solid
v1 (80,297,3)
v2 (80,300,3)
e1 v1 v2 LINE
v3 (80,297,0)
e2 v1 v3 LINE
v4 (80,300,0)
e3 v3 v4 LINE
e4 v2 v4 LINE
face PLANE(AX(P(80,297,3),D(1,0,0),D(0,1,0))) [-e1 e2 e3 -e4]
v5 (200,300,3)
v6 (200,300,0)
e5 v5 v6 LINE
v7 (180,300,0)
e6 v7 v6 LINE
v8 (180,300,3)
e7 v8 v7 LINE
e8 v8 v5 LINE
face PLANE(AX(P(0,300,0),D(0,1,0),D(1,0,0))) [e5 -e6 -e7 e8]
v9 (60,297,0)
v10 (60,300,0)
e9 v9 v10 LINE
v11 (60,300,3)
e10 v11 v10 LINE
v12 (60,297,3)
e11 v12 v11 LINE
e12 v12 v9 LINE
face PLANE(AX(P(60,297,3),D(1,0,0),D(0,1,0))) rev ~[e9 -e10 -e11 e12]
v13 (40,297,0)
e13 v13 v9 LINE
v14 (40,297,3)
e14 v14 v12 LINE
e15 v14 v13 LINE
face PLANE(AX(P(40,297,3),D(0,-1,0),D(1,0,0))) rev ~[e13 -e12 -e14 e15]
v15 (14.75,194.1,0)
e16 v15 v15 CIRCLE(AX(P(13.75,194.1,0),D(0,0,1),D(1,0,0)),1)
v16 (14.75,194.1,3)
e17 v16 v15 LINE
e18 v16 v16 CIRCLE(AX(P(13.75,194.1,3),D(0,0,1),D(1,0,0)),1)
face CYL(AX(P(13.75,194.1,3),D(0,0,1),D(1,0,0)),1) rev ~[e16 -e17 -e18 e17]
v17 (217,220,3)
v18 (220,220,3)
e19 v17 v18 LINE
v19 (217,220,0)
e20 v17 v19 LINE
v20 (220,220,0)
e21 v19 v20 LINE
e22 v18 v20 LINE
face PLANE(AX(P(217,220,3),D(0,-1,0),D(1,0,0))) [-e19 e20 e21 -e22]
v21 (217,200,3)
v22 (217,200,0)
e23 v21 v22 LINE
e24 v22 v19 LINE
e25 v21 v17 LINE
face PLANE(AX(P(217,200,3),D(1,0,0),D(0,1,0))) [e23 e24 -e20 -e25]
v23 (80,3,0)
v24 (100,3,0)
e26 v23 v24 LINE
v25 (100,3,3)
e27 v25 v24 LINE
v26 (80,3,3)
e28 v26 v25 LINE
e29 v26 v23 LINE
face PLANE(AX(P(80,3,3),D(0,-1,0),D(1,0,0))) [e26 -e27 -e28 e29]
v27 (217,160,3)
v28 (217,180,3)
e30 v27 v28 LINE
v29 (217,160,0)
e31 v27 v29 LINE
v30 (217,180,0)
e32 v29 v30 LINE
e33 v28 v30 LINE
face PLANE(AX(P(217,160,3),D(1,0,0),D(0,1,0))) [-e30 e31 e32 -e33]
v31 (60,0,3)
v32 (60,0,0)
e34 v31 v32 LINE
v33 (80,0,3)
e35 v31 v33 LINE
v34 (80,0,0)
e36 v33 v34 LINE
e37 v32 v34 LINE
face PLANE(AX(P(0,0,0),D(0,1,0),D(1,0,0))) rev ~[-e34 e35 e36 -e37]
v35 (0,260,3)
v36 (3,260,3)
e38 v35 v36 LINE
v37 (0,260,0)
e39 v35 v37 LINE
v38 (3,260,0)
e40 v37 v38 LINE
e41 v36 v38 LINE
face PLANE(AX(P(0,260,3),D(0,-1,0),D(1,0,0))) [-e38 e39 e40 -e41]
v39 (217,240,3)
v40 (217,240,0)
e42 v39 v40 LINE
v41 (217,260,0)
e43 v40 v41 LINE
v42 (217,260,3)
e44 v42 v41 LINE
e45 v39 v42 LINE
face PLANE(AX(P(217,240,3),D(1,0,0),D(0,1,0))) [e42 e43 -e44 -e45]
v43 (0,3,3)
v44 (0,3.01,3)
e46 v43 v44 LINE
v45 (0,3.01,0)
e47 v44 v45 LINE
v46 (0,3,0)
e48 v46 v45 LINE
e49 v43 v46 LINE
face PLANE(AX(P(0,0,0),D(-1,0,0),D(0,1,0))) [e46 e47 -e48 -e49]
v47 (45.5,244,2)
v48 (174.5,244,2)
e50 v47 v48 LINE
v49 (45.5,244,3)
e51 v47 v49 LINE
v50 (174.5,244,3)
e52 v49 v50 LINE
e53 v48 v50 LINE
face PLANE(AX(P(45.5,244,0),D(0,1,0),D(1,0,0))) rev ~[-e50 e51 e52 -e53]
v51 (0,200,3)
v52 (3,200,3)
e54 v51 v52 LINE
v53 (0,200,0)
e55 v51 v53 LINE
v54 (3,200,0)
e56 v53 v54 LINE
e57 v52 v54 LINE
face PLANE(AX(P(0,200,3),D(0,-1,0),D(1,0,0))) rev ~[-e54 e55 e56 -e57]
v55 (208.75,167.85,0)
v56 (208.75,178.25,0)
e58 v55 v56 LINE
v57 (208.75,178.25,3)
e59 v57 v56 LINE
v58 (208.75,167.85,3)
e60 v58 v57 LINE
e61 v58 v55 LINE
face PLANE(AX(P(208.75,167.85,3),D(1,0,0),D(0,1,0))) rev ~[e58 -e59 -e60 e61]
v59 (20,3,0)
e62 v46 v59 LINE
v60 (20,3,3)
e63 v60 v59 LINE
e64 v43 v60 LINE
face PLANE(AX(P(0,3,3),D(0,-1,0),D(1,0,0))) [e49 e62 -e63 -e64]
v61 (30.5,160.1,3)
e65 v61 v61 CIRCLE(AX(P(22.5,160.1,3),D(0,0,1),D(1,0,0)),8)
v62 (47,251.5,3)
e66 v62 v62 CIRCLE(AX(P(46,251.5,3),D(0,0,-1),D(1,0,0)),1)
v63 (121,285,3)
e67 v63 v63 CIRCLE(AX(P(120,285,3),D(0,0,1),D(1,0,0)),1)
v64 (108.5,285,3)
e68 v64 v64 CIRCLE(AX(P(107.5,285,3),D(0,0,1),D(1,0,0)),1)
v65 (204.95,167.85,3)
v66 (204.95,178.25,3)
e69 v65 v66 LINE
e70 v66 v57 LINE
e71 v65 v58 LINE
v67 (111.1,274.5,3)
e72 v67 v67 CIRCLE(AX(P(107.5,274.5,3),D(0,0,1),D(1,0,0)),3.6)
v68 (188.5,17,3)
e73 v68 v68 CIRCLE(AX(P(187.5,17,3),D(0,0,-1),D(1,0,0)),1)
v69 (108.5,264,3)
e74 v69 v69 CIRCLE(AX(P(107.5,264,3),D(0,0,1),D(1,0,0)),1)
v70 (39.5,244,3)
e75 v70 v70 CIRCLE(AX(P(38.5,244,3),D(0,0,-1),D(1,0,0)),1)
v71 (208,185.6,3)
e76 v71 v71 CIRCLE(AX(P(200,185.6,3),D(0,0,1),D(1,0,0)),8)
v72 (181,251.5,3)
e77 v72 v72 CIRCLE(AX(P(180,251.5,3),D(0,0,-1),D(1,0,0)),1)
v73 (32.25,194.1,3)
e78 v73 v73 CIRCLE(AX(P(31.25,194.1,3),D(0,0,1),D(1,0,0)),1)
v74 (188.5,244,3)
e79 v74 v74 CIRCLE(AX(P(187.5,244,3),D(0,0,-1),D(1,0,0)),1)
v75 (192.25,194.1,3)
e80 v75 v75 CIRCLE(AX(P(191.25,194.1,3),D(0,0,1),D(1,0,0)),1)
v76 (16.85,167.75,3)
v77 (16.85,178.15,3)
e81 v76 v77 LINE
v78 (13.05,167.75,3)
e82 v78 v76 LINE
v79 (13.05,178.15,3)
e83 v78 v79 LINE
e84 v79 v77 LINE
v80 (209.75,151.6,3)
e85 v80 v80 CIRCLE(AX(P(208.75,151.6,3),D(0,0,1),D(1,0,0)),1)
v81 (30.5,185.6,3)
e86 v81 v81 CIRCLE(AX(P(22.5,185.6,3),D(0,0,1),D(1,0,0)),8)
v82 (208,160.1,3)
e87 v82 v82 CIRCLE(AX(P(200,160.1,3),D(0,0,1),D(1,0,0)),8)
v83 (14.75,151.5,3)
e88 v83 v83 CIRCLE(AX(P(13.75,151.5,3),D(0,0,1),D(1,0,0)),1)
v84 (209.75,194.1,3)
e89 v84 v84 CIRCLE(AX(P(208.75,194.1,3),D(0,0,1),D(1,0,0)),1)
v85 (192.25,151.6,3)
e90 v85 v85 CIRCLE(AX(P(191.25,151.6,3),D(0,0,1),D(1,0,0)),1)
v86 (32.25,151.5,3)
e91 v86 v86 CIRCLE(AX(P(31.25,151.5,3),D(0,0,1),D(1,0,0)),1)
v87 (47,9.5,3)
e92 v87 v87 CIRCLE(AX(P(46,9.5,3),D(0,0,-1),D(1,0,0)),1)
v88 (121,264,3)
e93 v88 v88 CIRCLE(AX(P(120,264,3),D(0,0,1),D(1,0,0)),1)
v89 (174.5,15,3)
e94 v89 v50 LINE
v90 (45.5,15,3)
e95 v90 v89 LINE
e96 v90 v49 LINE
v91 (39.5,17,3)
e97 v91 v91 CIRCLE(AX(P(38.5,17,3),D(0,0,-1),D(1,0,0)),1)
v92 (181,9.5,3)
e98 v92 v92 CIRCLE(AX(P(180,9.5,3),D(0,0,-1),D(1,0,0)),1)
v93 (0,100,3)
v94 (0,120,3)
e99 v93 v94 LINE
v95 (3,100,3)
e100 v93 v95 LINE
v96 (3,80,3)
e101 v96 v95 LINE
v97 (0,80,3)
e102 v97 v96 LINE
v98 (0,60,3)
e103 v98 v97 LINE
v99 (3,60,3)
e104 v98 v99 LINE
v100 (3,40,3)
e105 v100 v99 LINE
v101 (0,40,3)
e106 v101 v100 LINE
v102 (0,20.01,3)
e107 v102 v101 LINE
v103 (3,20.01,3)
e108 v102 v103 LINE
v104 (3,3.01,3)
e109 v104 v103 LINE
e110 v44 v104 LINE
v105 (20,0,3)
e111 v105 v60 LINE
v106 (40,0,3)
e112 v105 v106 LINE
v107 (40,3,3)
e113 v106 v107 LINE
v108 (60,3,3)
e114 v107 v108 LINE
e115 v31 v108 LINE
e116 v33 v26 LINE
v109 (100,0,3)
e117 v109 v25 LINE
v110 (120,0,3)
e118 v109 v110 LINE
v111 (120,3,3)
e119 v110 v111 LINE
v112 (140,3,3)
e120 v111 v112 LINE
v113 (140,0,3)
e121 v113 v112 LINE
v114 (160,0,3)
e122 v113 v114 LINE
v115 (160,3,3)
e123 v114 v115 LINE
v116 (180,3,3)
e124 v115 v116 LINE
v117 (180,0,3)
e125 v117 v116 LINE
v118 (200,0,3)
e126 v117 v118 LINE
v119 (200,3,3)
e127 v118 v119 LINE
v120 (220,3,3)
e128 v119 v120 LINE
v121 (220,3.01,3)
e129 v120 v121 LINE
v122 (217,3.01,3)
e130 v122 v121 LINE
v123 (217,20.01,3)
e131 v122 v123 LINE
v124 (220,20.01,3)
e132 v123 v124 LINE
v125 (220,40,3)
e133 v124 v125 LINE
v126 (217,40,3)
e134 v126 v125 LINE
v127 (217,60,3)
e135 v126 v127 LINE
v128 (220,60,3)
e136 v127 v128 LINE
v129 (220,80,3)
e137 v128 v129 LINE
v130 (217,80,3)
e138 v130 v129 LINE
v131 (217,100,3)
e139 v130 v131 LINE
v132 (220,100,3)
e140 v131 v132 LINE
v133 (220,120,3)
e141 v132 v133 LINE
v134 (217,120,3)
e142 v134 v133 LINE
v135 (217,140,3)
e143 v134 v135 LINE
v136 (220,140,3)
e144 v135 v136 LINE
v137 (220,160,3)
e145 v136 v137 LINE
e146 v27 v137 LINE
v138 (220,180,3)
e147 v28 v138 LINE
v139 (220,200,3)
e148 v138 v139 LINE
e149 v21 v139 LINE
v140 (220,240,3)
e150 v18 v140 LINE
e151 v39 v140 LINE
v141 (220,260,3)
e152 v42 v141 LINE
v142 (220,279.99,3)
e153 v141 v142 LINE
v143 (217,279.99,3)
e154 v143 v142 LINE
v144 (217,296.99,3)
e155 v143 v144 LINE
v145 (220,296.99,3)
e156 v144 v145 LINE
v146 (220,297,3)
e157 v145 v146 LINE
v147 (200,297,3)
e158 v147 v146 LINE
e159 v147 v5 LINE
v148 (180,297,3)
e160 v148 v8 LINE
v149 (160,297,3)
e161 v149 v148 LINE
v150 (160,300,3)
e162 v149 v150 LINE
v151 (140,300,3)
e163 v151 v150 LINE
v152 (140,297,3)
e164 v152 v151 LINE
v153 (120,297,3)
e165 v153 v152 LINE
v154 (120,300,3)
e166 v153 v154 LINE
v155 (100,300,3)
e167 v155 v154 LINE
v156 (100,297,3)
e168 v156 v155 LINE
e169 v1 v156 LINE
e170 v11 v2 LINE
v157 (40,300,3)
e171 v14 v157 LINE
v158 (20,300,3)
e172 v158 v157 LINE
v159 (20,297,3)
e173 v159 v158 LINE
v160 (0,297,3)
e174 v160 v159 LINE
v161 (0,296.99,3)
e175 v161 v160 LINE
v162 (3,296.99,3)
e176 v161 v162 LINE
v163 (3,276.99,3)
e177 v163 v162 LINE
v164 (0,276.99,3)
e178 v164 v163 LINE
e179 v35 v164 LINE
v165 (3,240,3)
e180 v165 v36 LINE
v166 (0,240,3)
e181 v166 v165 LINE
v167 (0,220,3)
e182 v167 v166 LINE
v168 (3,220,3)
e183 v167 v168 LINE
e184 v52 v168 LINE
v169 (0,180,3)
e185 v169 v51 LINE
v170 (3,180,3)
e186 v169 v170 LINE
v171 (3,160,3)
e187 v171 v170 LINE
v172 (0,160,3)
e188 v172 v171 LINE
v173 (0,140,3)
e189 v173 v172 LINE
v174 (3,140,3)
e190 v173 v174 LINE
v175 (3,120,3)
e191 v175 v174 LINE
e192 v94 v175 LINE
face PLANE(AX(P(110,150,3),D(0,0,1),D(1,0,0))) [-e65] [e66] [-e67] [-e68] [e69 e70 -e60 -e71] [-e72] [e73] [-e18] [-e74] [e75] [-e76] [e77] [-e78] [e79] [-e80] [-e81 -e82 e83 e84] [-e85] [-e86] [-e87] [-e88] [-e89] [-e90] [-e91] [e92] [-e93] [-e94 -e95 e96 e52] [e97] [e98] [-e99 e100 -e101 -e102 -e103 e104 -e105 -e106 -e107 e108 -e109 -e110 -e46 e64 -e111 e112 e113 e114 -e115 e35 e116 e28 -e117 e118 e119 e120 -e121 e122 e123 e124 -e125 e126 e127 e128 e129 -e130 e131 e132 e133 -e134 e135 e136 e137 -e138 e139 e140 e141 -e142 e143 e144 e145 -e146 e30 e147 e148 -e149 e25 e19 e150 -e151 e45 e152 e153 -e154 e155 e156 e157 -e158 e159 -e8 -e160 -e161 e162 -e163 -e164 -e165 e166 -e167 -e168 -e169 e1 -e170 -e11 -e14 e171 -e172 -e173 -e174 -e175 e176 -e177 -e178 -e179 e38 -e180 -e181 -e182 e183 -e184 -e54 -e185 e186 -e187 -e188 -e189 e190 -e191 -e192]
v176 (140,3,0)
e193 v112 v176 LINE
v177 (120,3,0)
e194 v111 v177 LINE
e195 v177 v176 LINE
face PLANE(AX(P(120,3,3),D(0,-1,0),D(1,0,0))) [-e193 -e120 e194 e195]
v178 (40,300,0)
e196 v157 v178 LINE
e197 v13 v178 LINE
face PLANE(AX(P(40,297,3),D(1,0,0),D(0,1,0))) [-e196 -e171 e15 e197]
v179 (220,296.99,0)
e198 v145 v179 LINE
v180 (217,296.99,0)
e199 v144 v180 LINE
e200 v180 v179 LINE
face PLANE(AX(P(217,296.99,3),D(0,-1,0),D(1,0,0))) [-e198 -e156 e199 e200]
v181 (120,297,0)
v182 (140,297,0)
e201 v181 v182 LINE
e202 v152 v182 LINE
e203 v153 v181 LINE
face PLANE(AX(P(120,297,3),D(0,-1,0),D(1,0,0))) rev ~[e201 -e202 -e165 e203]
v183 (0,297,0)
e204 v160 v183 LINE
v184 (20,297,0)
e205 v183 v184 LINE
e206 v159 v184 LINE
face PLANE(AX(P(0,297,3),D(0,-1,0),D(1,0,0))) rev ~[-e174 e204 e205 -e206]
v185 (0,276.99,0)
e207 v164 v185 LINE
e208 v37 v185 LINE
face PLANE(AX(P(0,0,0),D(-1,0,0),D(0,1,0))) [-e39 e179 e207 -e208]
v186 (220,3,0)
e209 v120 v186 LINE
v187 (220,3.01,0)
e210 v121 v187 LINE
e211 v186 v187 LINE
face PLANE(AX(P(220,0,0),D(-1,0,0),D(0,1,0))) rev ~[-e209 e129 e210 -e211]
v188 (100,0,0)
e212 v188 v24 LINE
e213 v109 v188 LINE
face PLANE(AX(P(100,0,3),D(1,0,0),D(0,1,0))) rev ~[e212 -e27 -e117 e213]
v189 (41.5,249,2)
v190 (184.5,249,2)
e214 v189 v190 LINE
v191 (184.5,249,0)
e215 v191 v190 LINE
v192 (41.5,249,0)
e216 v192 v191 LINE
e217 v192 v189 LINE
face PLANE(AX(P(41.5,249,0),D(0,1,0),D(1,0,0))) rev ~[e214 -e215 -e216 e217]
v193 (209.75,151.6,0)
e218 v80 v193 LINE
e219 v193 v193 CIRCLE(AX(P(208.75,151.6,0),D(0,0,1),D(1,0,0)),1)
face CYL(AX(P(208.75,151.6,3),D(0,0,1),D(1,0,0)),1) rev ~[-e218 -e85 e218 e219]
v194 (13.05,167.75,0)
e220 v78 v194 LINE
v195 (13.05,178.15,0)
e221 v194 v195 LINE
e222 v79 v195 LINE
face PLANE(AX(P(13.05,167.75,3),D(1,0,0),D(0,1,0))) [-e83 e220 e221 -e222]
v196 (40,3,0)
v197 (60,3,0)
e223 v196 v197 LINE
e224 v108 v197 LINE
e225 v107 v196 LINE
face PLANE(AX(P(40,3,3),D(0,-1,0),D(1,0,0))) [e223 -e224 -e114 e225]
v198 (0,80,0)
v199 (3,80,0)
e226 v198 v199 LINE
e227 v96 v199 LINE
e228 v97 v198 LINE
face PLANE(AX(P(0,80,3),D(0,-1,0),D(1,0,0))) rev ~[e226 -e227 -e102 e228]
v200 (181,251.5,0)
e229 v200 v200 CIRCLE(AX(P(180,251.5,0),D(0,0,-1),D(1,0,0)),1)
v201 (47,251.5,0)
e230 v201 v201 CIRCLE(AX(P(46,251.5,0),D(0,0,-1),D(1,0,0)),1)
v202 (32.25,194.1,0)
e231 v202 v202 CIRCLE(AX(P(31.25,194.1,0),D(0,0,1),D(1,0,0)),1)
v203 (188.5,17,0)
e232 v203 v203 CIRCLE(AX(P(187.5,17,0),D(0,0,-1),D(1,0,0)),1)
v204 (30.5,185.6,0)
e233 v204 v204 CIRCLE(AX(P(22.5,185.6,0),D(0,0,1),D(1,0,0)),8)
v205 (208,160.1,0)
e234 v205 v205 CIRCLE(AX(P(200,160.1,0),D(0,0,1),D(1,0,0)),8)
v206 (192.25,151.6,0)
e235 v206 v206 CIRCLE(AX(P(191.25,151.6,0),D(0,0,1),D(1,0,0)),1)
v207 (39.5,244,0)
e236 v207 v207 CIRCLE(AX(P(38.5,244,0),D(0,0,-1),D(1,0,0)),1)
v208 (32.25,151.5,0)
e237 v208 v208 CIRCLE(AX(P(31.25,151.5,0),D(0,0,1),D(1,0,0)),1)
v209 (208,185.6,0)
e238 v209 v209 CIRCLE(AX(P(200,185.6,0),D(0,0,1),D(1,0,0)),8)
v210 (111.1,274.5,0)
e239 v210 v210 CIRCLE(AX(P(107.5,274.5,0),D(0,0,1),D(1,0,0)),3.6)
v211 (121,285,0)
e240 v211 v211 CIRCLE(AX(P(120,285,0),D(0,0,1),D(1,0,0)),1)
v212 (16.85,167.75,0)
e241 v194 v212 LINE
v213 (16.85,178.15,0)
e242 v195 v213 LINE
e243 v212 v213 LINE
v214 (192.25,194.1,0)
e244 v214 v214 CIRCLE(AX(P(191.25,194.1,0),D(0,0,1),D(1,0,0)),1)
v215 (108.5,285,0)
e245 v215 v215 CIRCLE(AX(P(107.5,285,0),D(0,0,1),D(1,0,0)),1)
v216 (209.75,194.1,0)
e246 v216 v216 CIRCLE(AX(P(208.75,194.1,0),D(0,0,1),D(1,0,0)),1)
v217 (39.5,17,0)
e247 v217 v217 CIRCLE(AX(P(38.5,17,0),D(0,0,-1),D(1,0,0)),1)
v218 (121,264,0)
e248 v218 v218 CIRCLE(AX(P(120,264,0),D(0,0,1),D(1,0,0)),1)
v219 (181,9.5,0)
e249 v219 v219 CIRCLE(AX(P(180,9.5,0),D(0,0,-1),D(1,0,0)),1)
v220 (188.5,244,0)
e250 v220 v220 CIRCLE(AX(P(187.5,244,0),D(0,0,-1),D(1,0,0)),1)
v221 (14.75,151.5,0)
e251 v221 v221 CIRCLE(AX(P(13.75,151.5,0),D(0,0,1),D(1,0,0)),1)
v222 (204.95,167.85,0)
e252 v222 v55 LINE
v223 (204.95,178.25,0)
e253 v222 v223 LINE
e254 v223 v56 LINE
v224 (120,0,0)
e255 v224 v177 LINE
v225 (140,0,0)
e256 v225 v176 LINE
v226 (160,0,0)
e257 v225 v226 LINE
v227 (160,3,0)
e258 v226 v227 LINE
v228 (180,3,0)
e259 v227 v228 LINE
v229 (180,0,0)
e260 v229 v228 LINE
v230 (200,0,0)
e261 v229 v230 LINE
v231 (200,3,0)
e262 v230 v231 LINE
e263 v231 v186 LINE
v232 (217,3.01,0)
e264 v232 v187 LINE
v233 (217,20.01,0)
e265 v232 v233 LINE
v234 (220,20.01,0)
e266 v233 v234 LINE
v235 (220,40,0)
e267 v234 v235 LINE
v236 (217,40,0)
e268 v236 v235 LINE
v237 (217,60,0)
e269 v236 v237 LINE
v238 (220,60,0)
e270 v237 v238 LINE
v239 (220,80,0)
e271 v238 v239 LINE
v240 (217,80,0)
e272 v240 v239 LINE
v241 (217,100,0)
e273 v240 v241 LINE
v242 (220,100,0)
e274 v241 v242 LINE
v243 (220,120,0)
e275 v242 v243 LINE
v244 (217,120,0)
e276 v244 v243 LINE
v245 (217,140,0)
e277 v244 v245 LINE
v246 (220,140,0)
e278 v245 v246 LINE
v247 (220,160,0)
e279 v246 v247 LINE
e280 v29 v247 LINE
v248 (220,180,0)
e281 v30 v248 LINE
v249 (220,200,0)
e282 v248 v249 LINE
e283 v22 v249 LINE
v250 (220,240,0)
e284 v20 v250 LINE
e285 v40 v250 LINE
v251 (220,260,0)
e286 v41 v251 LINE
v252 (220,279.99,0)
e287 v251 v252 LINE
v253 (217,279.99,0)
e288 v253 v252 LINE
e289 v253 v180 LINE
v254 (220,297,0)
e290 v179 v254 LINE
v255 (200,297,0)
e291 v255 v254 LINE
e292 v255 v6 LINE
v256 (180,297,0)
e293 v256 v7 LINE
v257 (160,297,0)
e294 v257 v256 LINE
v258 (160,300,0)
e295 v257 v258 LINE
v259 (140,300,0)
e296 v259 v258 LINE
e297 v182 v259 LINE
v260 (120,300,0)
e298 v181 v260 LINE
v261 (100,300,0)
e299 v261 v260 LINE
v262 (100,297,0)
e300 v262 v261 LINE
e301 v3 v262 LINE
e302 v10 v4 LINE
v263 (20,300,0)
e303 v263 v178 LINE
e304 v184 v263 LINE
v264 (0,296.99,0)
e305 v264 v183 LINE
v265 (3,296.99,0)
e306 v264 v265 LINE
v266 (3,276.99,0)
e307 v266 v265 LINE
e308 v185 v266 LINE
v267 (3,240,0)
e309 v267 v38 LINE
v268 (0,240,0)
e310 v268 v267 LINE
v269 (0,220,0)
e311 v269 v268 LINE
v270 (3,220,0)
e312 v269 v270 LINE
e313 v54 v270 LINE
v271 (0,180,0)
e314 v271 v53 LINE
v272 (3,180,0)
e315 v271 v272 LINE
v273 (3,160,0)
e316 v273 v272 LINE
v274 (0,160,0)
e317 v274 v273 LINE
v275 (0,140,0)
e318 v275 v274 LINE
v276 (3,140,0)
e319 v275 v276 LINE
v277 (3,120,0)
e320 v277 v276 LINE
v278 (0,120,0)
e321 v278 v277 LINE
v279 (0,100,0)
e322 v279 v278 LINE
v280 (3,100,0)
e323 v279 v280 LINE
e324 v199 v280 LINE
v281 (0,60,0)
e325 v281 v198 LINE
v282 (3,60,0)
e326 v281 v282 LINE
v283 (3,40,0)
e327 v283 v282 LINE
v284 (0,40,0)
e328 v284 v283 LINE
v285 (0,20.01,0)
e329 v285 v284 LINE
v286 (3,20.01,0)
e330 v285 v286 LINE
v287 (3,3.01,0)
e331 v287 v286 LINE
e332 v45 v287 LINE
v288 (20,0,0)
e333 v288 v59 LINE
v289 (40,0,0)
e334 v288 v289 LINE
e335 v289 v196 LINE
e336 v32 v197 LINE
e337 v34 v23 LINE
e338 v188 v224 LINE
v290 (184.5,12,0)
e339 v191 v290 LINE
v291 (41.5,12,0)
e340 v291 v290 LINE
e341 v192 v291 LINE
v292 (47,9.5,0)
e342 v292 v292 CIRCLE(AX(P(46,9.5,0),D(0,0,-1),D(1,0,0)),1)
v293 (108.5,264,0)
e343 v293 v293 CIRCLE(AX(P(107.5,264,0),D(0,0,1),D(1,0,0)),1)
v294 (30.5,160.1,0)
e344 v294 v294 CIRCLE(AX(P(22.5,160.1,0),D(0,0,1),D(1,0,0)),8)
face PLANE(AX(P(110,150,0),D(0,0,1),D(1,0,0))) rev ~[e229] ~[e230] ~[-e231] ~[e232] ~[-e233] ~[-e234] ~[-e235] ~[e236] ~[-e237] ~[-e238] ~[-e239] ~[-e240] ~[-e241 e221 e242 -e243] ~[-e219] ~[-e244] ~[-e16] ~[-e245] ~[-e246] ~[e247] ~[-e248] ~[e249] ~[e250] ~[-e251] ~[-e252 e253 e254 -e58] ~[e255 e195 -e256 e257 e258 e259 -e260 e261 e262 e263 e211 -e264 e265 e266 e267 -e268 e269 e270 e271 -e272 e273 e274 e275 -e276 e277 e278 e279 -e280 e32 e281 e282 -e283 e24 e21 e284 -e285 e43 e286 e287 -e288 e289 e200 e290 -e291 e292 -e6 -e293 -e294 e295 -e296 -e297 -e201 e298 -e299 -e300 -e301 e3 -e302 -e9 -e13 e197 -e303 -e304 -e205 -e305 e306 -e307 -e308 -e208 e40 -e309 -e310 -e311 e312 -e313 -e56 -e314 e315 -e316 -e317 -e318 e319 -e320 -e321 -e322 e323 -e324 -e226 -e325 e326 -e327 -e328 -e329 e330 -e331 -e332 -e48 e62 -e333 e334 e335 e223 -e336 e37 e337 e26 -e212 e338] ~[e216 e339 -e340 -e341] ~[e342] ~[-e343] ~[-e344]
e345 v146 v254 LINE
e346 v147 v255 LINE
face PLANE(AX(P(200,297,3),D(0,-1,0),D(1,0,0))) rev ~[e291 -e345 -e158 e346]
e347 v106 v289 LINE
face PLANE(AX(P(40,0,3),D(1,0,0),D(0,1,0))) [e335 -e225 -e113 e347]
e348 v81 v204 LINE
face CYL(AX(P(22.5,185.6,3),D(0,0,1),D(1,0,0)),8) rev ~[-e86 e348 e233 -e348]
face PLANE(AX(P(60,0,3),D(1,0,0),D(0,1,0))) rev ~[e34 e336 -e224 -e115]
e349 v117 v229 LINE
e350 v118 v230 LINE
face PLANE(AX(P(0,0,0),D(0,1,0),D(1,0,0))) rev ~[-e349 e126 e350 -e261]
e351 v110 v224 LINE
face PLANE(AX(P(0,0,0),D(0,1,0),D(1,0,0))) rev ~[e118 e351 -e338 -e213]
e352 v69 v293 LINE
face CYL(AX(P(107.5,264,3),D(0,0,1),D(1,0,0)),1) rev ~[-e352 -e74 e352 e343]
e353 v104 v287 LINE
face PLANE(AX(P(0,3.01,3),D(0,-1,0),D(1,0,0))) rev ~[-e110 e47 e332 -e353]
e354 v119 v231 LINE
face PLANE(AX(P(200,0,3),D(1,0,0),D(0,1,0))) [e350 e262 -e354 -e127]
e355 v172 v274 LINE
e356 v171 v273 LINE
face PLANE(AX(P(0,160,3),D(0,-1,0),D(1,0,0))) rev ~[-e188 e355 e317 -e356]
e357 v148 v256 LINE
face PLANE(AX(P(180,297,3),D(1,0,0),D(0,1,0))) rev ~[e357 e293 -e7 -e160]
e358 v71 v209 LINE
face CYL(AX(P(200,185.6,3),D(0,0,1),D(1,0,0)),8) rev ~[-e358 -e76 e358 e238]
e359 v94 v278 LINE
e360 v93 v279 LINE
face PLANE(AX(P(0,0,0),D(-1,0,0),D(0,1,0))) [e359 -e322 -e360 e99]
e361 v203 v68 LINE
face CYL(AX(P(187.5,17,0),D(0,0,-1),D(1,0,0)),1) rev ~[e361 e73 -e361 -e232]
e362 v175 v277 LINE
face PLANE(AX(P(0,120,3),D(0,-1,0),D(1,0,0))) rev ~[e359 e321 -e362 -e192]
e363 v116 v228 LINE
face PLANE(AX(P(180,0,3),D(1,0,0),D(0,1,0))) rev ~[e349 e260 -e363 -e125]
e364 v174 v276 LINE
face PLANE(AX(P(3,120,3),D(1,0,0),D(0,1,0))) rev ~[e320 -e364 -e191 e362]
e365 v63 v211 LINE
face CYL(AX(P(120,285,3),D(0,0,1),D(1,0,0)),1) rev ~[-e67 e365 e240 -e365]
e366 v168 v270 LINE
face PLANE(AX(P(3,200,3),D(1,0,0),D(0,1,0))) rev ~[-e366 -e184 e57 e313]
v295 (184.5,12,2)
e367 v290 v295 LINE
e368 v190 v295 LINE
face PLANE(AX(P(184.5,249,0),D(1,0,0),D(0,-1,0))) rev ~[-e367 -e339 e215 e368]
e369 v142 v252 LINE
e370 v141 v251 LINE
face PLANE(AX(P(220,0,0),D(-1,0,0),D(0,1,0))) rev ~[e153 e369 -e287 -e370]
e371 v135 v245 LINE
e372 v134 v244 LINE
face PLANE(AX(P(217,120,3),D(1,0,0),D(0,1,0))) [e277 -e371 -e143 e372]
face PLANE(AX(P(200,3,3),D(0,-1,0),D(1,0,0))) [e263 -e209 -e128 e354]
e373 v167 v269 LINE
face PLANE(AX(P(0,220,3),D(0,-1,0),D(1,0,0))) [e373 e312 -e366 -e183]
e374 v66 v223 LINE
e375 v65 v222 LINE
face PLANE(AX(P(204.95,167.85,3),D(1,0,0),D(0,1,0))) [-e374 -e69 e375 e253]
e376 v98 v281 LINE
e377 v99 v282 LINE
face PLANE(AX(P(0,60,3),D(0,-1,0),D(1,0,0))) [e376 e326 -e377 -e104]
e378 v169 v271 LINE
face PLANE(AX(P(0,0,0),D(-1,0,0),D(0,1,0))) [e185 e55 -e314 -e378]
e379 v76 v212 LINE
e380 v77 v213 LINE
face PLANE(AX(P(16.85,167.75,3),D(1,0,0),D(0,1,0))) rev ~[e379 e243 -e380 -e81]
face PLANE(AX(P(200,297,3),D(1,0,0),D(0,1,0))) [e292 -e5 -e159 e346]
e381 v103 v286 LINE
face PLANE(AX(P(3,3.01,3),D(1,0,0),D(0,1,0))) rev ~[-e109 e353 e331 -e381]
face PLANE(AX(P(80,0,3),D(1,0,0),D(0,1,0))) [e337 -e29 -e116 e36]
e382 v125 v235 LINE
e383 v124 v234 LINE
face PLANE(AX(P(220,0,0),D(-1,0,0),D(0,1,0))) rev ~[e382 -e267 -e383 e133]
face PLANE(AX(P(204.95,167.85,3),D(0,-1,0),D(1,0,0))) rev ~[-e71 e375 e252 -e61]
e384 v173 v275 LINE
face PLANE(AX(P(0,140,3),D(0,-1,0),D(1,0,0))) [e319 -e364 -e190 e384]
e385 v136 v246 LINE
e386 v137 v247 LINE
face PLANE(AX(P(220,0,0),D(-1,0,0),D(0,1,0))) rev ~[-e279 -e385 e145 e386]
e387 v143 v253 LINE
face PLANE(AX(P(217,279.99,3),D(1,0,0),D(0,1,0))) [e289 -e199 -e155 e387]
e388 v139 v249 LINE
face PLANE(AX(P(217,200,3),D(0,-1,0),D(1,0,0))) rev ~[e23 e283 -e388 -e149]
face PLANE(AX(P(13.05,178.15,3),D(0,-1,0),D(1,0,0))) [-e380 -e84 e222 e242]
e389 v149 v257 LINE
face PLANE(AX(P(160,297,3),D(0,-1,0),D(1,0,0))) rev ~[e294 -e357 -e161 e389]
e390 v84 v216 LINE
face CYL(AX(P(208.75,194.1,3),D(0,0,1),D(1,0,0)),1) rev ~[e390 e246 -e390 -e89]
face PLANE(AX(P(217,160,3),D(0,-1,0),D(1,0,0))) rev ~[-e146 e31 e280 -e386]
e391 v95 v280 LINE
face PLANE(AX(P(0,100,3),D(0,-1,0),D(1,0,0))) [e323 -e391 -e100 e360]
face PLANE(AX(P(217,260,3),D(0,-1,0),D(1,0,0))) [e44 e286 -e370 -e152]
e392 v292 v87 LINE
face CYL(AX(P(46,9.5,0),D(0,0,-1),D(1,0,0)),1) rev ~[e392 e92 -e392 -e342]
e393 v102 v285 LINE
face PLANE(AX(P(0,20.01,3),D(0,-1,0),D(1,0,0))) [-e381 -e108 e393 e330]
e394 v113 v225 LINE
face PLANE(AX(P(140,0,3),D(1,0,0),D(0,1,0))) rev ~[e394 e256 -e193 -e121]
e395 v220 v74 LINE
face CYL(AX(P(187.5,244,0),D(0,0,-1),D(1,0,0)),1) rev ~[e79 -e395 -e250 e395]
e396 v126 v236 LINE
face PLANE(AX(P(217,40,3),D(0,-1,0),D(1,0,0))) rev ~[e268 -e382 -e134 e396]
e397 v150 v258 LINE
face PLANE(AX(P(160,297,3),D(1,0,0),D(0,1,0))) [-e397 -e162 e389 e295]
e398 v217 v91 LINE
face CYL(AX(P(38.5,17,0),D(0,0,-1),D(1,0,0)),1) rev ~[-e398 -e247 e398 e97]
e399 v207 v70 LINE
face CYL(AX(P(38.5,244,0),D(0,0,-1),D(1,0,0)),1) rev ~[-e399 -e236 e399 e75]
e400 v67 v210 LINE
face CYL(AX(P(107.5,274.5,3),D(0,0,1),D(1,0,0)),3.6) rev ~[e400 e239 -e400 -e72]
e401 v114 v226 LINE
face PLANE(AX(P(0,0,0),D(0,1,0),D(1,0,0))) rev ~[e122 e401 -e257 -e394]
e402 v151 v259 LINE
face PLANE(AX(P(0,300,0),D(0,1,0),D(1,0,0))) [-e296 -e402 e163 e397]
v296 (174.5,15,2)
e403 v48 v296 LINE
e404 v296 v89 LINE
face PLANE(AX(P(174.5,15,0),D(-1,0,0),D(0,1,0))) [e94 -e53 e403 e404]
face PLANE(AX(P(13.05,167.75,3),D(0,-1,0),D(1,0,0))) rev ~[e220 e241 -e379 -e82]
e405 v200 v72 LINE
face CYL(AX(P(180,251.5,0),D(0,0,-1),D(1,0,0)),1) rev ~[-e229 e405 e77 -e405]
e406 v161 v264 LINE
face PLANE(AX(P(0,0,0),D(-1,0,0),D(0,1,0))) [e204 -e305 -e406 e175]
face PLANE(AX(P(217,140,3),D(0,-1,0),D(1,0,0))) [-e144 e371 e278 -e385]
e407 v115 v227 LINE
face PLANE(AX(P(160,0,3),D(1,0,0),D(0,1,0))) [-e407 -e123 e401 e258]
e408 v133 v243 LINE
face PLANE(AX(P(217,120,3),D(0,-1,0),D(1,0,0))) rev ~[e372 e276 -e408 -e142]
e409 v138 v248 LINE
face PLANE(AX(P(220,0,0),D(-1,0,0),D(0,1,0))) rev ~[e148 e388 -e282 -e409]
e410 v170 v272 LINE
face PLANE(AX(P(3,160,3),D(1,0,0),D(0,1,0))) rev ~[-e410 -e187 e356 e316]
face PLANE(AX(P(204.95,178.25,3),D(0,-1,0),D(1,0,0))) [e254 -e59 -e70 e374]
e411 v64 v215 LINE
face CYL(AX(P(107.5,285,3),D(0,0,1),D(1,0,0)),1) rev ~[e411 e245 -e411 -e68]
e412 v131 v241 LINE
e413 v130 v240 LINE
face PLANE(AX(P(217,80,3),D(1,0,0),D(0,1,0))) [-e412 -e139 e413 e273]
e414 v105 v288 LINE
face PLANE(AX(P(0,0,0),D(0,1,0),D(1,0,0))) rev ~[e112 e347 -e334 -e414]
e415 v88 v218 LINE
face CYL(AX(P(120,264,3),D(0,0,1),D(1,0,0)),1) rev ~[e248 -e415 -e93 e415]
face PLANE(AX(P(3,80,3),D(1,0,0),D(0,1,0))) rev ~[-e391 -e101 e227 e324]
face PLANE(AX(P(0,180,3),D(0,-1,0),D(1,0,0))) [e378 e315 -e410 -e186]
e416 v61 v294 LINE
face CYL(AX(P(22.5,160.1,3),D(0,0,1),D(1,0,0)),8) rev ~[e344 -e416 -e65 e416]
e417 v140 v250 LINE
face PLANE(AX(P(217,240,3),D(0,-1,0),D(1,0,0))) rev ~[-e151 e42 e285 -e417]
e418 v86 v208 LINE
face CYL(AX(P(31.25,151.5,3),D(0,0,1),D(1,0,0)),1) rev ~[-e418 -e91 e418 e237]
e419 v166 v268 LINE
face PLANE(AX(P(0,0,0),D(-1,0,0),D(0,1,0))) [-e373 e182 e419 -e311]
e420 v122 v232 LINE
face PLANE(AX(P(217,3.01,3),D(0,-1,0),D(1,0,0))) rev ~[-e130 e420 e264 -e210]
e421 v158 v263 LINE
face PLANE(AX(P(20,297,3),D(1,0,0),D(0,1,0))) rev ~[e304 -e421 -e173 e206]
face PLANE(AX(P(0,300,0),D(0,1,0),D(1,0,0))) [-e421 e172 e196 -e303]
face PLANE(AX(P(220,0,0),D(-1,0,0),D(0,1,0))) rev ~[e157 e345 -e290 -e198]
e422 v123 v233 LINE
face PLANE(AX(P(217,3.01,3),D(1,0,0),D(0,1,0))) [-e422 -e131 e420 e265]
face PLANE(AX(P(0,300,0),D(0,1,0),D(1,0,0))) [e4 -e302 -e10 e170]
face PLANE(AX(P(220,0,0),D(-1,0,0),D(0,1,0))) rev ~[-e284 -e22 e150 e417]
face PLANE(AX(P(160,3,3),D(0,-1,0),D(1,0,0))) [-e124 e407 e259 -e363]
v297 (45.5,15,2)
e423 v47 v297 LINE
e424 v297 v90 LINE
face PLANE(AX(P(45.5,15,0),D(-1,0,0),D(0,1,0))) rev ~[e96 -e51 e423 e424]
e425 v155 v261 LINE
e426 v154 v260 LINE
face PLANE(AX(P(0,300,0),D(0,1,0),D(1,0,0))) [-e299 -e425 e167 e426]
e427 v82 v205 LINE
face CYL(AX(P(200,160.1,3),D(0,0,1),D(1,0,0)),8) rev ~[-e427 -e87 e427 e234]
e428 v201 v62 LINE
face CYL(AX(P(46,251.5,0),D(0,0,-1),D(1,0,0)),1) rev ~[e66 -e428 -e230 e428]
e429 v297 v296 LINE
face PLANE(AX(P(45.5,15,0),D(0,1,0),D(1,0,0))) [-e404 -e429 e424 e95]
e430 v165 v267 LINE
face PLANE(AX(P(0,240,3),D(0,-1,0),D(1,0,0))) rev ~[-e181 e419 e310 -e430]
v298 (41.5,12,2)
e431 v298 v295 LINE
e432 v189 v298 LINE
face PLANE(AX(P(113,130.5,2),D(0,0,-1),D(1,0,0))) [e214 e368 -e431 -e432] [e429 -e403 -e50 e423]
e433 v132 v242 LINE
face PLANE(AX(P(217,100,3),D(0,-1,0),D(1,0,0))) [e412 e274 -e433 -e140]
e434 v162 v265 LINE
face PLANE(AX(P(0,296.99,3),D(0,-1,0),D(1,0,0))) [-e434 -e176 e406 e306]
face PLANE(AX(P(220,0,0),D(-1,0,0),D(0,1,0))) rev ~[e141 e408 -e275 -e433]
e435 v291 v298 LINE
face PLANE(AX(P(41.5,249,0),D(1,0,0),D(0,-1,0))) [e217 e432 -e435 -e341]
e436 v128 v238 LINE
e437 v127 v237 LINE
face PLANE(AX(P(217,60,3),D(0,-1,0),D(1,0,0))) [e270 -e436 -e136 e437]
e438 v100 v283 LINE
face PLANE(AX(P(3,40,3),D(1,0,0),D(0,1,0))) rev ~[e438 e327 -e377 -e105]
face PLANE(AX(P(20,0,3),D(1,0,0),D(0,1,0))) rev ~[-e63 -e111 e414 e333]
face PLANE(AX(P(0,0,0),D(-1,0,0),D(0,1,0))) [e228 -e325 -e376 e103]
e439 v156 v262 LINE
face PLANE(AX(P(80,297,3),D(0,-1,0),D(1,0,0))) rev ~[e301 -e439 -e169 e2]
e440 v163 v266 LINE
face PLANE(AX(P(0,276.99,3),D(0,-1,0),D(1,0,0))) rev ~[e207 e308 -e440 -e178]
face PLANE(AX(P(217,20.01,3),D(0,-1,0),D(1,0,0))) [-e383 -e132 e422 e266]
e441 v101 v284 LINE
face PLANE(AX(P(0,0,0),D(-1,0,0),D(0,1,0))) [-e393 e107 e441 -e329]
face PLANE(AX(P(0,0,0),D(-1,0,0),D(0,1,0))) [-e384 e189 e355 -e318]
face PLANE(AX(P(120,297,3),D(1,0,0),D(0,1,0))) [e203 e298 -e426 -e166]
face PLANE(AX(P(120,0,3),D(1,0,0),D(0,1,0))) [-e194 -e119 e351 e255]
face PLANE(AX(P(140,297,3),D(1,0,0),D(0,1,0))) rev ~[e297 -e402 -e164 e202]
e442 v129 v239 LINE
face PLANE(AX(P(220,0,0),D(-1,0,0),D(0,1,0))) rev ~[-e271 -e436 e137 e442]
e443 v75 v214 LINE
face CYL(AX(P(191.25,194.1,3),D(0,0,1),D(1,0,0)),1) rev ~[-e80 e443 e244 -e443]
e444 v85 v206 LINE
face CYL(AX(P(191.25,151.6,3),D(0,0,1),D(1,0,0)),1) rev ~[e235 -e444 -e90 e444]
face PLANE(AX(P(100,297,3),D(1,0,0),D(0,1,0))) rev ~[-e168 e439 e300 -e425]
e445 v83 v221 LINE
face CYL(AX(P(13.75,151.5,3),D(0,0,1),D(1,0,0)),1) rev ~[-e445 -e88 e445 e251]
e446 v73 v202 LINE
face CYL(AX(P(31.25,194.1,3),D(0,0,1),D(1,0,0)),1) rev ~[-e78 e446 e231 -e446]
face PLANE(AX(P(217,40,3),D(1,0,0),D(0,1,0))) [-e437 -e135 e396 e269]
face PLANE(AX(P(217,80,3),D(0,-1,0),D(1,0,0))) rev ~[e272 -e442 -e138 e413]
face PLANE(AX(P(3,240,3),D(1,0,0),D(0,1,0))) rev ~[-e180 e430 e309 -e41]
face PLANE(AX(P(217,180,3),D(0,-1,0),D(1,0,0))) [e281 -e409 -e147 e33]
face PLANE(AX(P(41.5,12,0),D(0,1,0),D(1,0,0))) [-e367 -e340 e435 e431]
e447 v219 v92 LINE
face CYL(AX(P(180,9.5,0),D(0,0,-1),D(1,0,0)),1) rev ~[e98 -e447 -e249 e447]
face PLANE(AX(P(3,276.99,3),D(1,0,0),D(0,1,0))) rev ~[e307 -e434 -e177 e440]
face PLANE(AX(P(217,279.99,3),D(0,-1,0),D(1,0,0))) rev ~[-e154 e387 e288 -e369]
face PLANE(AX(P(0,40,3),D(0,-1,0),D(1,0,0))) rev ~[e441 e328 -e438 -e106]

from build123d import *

# Parameters (mm, degrees)
SKETCH_W        = 220
SKETCH_H        = 300
SKETCH_W_2      = 129
SKETCH_H_2      = 229
PAD_DEPTH       = 3
SKETCH001_W     = 143
SKETCH001_H     = 237
SKETCH001_W_2   = 129
SKETCH001_H_2   = 229
POCKET_DEPTH    = 2
SKETCH002_R     = 8
SKETCH002_R_2   = 1
SKETCH002_R_3   = 3.6
SKETCH002_W     = 3.8
SKETCH002_H     = 10.4
SKETCH002_W_2   = 20
SKETCH002_H_2   = 3
SKETCH002_W_3   = 3
SKETCH002_H_3   = 17
SKETCH002_H_4   = 20
POCKET001_DEPTH = 3.001
SKETCH003_R     = 1
POCKET002_DEPTH = 5


with BuildPart() as part:
    # Sketch → Pad (new body)
    with BuildSketch(Plane.XY):
        with Locations((110, 150)):
            Rectangle(SKETCH_W, SKETCH_H)
        with Locations((110, 129.5)):
            Rectangle(SKETCH_W_2, SKETCH_H_2, mode=Mode.SUBTRACT)
    extrude(amount=PAD_DEPTH)

    # Sketch001 (on Face9 of Pad) → Pocket (cut)
    with BuildSketch(Plane(origin=(0, 0, 0), x_dir=(1, 0, 0), z_dir=(0, 0, -1))):
        with Locations((113, -130.5)):
            Rectangle(SKETCH001_W, SKETCH001_H)
        with Locations((110, -129.5)):
            Rectangle(SKETCH001_W_2, SKETCH001_H_2, mode=Mode.SUBTRACT)
    extrude(amount=-POCKET_DEPTH, mode=Mode.SUBTRACT)

    # Sketch002 (on Face5 of Pocket) → Pocket001 (cut, through all)
    with BuildSketch(Plane.XY.offset(3)):
        with Locations((22.5, 185.6)):
            Circle(SKETCH002_R)
        with Locations((22.5, 160.1)):
            Circle(SKETCH002_R)
        with Locations((13.75, 151.5)):
            Circle(SKETCH002_R_2)
        with Locations((31.25, 151.5)):
            Circle(SKETCH002_R_2)
        with Locations((13.75, 194.1)):
            Circle(SKETCH002_R_2)
        with Locations((31.25, 194.1)):
            Circle(SKETCH002_R_2)
        with Locations((200, 185.6)):
            Circle(SKETCH002_R)
        with Locations((200, 160.1)):
            Circle(SKETCH002_R)
        with Locations((191.25, 151.6)):
            Circle(SKETCH002_R_2)
        with Locations((208.75, 151.6)):
            Circle(SKETCH002_R_2)
        with Locations((191.25, 194.1)):
            Circle(SKETCH002_R_2)
        with Locations((208.75, 194.1)):
            Circle(SKETCH002_R_2)
        with Locations((107.5, 274.5)):
            Circle(SKETCH002_R_3)
        with Locations((107.5, 264)):
            Circle(SKETCH002_R_2)
        with Locations((120, 264)):
            Circle(SKETCH002_R_2)
        with Locations((107.5, 285)):
            Circle(SKETCH002_R_2)
        with Locations((120, 285)):
            Circle(SKETCH002_R_2)
        with Locations((14.95, 172.95)):
            Rectangle(SKETCH002_W, SKETCH002_H)
        with Locations((206.85, 173.05)):
            Rectangle(SKETCH002_W, SKETCH002_H)
        with Locations((10, 1.5)):
            Rectangle(SKETCH002_W_2, SKETCH002_H_2)
        with Locations((50, 1.5)):
            Rectangle(SKETCH002_W_2, SKETCH002_H_2)
        with Locations((90, 1.5)):
            Rectangle(SKETCH002_W_2, SKETCH002_H_2)
        with Locations((130, 1.5)):
            Rectangle(SKETCH002_W_2, SKETCH002_H_2)
        with Locations((170, 1.5)):
            Rectangle(SKETCH002_W_2, SKETCH002_H_2)
        with Locations((210, 1.5)):
            Rectangle(SKETCH002_W_2, SKETCH002_H_2)
        with Locations((10, 298.5)):
            Rectangle(SKETCH002_W_2, SKETCH002_H_2)
        with Locations((50, 298.5)):
            Rectangle(SKETCH002_W_2, SKETCH002_H_2)
        with Locations((90, 298.5)):
            Rectangle(SKETCH002_W_2, SKETCH002_H_2)
        with Locations((130, 298.5)):
            Rectangle(SKETCH002_W_2, SKETCH002_H_2)
        with Locations((170, 298.5)):
            Rectangle(SKETCH002_W_2, SKETCH002_H_2)
        with Locations((210, 298.5)):
            Rectangle(SKETCH002_W_2, SKETCH002_H_2)
        with Locations((1.5, 11.51)):
            Rectangle(SKETCH002_W_3, SKETCH002_H_3)
        with Locations((1.5, 286.99)):
            Rectangle(SKETCH002_W_3, SKETCH002_H_4)
        with Locations((1.5, 50)):
            Rectangle(SKETCH002_W_3, SKETCH002_H_4)
        with Locations((1.5, 90)):
            Rectangle(SKETCH002_W_3, SKETCH002_H_4)
        with Locations((1.5, 130)):
            Rectangle(SKETCH002_W_3, SKETCH002_H_4)
        with Locations((1.5, 170)):
            Rectangle(SKETCH002_W_3, SKETCH002_H_4)
        with Locations((1.5, 210)):
            Rectangle(SKETCH002_W_3, SKETCH002_H_4)
        with Locations((1.5, 250)):
            Rectangle(SKETCH002_W_3, SKETCH002_H_4)
        with Locations((218.5, 50)):
            Rectangle(SKETCH002_W_3, SKETCH002_H_4)
        with Locations((218.5, 90)):
            Rectangle(SKETCH002_W_3, SKETCH002_H_4)
        with Locations((218.5, 130)):
            Rectangle(SKETCH002_W_3, SKETCH002_H_4)
        with Locations((218.5, 170)):
            Rectangle(SKETCH002_W_3, SKETCH002_H_4)
        with Locations((218.5, 210)):
            Rectangle(SKETCH002_W_3, SKETCH002_H_4)
        with Locations((218.5, 250)):
            Rectangle(SKETCH002_W_3, SKETCH002_H_4)
        with Locations((218.5, 288.49)):
            Rectangle(SKETCH002_W_3, SKETCH002_H_3)
        with Locations((218.5, 11.51)):
            Rectangle(SKETCH002_W_3, SKETCH002_H_3)
    extrude(amount=-POCKET001_DEPTH, mode=Mode.SUBTRACT)

    # Sketch003 (on Face2 of Pocket001) → Pocket002 (cut)
    with BuildSketch(Plane(origin=(0, 0, 0), x_dir=(1, 0, 0), z_dir=(0, 0, -1))):
        with Locations((38.5, -17)):
            Circle(SKETCH003_R)
        with Locations((46, -9.5)):
            Circle(SKETCH003_R)
        with Locations((180, -251.5)):
            Circle(SKETCH003_R)
        with Locations((187.5, -244)):
            Circle(SKETCH003_R)
        with Locations((180, -9.5)):
            Circle(SKETCH003_R)
        with Locations((187.5, -17)):
            Circle(SKETCH003_R)
        with Locations((38.5, -244)):
            Circle(SKETCH003_R)
        with Locations((46, -251.5)):
            Circle(SKETCH003_R)
    extrude(amount=-POCKET002_DEPTH, mode=Mode.SUBTRACT)


solid = part.part
